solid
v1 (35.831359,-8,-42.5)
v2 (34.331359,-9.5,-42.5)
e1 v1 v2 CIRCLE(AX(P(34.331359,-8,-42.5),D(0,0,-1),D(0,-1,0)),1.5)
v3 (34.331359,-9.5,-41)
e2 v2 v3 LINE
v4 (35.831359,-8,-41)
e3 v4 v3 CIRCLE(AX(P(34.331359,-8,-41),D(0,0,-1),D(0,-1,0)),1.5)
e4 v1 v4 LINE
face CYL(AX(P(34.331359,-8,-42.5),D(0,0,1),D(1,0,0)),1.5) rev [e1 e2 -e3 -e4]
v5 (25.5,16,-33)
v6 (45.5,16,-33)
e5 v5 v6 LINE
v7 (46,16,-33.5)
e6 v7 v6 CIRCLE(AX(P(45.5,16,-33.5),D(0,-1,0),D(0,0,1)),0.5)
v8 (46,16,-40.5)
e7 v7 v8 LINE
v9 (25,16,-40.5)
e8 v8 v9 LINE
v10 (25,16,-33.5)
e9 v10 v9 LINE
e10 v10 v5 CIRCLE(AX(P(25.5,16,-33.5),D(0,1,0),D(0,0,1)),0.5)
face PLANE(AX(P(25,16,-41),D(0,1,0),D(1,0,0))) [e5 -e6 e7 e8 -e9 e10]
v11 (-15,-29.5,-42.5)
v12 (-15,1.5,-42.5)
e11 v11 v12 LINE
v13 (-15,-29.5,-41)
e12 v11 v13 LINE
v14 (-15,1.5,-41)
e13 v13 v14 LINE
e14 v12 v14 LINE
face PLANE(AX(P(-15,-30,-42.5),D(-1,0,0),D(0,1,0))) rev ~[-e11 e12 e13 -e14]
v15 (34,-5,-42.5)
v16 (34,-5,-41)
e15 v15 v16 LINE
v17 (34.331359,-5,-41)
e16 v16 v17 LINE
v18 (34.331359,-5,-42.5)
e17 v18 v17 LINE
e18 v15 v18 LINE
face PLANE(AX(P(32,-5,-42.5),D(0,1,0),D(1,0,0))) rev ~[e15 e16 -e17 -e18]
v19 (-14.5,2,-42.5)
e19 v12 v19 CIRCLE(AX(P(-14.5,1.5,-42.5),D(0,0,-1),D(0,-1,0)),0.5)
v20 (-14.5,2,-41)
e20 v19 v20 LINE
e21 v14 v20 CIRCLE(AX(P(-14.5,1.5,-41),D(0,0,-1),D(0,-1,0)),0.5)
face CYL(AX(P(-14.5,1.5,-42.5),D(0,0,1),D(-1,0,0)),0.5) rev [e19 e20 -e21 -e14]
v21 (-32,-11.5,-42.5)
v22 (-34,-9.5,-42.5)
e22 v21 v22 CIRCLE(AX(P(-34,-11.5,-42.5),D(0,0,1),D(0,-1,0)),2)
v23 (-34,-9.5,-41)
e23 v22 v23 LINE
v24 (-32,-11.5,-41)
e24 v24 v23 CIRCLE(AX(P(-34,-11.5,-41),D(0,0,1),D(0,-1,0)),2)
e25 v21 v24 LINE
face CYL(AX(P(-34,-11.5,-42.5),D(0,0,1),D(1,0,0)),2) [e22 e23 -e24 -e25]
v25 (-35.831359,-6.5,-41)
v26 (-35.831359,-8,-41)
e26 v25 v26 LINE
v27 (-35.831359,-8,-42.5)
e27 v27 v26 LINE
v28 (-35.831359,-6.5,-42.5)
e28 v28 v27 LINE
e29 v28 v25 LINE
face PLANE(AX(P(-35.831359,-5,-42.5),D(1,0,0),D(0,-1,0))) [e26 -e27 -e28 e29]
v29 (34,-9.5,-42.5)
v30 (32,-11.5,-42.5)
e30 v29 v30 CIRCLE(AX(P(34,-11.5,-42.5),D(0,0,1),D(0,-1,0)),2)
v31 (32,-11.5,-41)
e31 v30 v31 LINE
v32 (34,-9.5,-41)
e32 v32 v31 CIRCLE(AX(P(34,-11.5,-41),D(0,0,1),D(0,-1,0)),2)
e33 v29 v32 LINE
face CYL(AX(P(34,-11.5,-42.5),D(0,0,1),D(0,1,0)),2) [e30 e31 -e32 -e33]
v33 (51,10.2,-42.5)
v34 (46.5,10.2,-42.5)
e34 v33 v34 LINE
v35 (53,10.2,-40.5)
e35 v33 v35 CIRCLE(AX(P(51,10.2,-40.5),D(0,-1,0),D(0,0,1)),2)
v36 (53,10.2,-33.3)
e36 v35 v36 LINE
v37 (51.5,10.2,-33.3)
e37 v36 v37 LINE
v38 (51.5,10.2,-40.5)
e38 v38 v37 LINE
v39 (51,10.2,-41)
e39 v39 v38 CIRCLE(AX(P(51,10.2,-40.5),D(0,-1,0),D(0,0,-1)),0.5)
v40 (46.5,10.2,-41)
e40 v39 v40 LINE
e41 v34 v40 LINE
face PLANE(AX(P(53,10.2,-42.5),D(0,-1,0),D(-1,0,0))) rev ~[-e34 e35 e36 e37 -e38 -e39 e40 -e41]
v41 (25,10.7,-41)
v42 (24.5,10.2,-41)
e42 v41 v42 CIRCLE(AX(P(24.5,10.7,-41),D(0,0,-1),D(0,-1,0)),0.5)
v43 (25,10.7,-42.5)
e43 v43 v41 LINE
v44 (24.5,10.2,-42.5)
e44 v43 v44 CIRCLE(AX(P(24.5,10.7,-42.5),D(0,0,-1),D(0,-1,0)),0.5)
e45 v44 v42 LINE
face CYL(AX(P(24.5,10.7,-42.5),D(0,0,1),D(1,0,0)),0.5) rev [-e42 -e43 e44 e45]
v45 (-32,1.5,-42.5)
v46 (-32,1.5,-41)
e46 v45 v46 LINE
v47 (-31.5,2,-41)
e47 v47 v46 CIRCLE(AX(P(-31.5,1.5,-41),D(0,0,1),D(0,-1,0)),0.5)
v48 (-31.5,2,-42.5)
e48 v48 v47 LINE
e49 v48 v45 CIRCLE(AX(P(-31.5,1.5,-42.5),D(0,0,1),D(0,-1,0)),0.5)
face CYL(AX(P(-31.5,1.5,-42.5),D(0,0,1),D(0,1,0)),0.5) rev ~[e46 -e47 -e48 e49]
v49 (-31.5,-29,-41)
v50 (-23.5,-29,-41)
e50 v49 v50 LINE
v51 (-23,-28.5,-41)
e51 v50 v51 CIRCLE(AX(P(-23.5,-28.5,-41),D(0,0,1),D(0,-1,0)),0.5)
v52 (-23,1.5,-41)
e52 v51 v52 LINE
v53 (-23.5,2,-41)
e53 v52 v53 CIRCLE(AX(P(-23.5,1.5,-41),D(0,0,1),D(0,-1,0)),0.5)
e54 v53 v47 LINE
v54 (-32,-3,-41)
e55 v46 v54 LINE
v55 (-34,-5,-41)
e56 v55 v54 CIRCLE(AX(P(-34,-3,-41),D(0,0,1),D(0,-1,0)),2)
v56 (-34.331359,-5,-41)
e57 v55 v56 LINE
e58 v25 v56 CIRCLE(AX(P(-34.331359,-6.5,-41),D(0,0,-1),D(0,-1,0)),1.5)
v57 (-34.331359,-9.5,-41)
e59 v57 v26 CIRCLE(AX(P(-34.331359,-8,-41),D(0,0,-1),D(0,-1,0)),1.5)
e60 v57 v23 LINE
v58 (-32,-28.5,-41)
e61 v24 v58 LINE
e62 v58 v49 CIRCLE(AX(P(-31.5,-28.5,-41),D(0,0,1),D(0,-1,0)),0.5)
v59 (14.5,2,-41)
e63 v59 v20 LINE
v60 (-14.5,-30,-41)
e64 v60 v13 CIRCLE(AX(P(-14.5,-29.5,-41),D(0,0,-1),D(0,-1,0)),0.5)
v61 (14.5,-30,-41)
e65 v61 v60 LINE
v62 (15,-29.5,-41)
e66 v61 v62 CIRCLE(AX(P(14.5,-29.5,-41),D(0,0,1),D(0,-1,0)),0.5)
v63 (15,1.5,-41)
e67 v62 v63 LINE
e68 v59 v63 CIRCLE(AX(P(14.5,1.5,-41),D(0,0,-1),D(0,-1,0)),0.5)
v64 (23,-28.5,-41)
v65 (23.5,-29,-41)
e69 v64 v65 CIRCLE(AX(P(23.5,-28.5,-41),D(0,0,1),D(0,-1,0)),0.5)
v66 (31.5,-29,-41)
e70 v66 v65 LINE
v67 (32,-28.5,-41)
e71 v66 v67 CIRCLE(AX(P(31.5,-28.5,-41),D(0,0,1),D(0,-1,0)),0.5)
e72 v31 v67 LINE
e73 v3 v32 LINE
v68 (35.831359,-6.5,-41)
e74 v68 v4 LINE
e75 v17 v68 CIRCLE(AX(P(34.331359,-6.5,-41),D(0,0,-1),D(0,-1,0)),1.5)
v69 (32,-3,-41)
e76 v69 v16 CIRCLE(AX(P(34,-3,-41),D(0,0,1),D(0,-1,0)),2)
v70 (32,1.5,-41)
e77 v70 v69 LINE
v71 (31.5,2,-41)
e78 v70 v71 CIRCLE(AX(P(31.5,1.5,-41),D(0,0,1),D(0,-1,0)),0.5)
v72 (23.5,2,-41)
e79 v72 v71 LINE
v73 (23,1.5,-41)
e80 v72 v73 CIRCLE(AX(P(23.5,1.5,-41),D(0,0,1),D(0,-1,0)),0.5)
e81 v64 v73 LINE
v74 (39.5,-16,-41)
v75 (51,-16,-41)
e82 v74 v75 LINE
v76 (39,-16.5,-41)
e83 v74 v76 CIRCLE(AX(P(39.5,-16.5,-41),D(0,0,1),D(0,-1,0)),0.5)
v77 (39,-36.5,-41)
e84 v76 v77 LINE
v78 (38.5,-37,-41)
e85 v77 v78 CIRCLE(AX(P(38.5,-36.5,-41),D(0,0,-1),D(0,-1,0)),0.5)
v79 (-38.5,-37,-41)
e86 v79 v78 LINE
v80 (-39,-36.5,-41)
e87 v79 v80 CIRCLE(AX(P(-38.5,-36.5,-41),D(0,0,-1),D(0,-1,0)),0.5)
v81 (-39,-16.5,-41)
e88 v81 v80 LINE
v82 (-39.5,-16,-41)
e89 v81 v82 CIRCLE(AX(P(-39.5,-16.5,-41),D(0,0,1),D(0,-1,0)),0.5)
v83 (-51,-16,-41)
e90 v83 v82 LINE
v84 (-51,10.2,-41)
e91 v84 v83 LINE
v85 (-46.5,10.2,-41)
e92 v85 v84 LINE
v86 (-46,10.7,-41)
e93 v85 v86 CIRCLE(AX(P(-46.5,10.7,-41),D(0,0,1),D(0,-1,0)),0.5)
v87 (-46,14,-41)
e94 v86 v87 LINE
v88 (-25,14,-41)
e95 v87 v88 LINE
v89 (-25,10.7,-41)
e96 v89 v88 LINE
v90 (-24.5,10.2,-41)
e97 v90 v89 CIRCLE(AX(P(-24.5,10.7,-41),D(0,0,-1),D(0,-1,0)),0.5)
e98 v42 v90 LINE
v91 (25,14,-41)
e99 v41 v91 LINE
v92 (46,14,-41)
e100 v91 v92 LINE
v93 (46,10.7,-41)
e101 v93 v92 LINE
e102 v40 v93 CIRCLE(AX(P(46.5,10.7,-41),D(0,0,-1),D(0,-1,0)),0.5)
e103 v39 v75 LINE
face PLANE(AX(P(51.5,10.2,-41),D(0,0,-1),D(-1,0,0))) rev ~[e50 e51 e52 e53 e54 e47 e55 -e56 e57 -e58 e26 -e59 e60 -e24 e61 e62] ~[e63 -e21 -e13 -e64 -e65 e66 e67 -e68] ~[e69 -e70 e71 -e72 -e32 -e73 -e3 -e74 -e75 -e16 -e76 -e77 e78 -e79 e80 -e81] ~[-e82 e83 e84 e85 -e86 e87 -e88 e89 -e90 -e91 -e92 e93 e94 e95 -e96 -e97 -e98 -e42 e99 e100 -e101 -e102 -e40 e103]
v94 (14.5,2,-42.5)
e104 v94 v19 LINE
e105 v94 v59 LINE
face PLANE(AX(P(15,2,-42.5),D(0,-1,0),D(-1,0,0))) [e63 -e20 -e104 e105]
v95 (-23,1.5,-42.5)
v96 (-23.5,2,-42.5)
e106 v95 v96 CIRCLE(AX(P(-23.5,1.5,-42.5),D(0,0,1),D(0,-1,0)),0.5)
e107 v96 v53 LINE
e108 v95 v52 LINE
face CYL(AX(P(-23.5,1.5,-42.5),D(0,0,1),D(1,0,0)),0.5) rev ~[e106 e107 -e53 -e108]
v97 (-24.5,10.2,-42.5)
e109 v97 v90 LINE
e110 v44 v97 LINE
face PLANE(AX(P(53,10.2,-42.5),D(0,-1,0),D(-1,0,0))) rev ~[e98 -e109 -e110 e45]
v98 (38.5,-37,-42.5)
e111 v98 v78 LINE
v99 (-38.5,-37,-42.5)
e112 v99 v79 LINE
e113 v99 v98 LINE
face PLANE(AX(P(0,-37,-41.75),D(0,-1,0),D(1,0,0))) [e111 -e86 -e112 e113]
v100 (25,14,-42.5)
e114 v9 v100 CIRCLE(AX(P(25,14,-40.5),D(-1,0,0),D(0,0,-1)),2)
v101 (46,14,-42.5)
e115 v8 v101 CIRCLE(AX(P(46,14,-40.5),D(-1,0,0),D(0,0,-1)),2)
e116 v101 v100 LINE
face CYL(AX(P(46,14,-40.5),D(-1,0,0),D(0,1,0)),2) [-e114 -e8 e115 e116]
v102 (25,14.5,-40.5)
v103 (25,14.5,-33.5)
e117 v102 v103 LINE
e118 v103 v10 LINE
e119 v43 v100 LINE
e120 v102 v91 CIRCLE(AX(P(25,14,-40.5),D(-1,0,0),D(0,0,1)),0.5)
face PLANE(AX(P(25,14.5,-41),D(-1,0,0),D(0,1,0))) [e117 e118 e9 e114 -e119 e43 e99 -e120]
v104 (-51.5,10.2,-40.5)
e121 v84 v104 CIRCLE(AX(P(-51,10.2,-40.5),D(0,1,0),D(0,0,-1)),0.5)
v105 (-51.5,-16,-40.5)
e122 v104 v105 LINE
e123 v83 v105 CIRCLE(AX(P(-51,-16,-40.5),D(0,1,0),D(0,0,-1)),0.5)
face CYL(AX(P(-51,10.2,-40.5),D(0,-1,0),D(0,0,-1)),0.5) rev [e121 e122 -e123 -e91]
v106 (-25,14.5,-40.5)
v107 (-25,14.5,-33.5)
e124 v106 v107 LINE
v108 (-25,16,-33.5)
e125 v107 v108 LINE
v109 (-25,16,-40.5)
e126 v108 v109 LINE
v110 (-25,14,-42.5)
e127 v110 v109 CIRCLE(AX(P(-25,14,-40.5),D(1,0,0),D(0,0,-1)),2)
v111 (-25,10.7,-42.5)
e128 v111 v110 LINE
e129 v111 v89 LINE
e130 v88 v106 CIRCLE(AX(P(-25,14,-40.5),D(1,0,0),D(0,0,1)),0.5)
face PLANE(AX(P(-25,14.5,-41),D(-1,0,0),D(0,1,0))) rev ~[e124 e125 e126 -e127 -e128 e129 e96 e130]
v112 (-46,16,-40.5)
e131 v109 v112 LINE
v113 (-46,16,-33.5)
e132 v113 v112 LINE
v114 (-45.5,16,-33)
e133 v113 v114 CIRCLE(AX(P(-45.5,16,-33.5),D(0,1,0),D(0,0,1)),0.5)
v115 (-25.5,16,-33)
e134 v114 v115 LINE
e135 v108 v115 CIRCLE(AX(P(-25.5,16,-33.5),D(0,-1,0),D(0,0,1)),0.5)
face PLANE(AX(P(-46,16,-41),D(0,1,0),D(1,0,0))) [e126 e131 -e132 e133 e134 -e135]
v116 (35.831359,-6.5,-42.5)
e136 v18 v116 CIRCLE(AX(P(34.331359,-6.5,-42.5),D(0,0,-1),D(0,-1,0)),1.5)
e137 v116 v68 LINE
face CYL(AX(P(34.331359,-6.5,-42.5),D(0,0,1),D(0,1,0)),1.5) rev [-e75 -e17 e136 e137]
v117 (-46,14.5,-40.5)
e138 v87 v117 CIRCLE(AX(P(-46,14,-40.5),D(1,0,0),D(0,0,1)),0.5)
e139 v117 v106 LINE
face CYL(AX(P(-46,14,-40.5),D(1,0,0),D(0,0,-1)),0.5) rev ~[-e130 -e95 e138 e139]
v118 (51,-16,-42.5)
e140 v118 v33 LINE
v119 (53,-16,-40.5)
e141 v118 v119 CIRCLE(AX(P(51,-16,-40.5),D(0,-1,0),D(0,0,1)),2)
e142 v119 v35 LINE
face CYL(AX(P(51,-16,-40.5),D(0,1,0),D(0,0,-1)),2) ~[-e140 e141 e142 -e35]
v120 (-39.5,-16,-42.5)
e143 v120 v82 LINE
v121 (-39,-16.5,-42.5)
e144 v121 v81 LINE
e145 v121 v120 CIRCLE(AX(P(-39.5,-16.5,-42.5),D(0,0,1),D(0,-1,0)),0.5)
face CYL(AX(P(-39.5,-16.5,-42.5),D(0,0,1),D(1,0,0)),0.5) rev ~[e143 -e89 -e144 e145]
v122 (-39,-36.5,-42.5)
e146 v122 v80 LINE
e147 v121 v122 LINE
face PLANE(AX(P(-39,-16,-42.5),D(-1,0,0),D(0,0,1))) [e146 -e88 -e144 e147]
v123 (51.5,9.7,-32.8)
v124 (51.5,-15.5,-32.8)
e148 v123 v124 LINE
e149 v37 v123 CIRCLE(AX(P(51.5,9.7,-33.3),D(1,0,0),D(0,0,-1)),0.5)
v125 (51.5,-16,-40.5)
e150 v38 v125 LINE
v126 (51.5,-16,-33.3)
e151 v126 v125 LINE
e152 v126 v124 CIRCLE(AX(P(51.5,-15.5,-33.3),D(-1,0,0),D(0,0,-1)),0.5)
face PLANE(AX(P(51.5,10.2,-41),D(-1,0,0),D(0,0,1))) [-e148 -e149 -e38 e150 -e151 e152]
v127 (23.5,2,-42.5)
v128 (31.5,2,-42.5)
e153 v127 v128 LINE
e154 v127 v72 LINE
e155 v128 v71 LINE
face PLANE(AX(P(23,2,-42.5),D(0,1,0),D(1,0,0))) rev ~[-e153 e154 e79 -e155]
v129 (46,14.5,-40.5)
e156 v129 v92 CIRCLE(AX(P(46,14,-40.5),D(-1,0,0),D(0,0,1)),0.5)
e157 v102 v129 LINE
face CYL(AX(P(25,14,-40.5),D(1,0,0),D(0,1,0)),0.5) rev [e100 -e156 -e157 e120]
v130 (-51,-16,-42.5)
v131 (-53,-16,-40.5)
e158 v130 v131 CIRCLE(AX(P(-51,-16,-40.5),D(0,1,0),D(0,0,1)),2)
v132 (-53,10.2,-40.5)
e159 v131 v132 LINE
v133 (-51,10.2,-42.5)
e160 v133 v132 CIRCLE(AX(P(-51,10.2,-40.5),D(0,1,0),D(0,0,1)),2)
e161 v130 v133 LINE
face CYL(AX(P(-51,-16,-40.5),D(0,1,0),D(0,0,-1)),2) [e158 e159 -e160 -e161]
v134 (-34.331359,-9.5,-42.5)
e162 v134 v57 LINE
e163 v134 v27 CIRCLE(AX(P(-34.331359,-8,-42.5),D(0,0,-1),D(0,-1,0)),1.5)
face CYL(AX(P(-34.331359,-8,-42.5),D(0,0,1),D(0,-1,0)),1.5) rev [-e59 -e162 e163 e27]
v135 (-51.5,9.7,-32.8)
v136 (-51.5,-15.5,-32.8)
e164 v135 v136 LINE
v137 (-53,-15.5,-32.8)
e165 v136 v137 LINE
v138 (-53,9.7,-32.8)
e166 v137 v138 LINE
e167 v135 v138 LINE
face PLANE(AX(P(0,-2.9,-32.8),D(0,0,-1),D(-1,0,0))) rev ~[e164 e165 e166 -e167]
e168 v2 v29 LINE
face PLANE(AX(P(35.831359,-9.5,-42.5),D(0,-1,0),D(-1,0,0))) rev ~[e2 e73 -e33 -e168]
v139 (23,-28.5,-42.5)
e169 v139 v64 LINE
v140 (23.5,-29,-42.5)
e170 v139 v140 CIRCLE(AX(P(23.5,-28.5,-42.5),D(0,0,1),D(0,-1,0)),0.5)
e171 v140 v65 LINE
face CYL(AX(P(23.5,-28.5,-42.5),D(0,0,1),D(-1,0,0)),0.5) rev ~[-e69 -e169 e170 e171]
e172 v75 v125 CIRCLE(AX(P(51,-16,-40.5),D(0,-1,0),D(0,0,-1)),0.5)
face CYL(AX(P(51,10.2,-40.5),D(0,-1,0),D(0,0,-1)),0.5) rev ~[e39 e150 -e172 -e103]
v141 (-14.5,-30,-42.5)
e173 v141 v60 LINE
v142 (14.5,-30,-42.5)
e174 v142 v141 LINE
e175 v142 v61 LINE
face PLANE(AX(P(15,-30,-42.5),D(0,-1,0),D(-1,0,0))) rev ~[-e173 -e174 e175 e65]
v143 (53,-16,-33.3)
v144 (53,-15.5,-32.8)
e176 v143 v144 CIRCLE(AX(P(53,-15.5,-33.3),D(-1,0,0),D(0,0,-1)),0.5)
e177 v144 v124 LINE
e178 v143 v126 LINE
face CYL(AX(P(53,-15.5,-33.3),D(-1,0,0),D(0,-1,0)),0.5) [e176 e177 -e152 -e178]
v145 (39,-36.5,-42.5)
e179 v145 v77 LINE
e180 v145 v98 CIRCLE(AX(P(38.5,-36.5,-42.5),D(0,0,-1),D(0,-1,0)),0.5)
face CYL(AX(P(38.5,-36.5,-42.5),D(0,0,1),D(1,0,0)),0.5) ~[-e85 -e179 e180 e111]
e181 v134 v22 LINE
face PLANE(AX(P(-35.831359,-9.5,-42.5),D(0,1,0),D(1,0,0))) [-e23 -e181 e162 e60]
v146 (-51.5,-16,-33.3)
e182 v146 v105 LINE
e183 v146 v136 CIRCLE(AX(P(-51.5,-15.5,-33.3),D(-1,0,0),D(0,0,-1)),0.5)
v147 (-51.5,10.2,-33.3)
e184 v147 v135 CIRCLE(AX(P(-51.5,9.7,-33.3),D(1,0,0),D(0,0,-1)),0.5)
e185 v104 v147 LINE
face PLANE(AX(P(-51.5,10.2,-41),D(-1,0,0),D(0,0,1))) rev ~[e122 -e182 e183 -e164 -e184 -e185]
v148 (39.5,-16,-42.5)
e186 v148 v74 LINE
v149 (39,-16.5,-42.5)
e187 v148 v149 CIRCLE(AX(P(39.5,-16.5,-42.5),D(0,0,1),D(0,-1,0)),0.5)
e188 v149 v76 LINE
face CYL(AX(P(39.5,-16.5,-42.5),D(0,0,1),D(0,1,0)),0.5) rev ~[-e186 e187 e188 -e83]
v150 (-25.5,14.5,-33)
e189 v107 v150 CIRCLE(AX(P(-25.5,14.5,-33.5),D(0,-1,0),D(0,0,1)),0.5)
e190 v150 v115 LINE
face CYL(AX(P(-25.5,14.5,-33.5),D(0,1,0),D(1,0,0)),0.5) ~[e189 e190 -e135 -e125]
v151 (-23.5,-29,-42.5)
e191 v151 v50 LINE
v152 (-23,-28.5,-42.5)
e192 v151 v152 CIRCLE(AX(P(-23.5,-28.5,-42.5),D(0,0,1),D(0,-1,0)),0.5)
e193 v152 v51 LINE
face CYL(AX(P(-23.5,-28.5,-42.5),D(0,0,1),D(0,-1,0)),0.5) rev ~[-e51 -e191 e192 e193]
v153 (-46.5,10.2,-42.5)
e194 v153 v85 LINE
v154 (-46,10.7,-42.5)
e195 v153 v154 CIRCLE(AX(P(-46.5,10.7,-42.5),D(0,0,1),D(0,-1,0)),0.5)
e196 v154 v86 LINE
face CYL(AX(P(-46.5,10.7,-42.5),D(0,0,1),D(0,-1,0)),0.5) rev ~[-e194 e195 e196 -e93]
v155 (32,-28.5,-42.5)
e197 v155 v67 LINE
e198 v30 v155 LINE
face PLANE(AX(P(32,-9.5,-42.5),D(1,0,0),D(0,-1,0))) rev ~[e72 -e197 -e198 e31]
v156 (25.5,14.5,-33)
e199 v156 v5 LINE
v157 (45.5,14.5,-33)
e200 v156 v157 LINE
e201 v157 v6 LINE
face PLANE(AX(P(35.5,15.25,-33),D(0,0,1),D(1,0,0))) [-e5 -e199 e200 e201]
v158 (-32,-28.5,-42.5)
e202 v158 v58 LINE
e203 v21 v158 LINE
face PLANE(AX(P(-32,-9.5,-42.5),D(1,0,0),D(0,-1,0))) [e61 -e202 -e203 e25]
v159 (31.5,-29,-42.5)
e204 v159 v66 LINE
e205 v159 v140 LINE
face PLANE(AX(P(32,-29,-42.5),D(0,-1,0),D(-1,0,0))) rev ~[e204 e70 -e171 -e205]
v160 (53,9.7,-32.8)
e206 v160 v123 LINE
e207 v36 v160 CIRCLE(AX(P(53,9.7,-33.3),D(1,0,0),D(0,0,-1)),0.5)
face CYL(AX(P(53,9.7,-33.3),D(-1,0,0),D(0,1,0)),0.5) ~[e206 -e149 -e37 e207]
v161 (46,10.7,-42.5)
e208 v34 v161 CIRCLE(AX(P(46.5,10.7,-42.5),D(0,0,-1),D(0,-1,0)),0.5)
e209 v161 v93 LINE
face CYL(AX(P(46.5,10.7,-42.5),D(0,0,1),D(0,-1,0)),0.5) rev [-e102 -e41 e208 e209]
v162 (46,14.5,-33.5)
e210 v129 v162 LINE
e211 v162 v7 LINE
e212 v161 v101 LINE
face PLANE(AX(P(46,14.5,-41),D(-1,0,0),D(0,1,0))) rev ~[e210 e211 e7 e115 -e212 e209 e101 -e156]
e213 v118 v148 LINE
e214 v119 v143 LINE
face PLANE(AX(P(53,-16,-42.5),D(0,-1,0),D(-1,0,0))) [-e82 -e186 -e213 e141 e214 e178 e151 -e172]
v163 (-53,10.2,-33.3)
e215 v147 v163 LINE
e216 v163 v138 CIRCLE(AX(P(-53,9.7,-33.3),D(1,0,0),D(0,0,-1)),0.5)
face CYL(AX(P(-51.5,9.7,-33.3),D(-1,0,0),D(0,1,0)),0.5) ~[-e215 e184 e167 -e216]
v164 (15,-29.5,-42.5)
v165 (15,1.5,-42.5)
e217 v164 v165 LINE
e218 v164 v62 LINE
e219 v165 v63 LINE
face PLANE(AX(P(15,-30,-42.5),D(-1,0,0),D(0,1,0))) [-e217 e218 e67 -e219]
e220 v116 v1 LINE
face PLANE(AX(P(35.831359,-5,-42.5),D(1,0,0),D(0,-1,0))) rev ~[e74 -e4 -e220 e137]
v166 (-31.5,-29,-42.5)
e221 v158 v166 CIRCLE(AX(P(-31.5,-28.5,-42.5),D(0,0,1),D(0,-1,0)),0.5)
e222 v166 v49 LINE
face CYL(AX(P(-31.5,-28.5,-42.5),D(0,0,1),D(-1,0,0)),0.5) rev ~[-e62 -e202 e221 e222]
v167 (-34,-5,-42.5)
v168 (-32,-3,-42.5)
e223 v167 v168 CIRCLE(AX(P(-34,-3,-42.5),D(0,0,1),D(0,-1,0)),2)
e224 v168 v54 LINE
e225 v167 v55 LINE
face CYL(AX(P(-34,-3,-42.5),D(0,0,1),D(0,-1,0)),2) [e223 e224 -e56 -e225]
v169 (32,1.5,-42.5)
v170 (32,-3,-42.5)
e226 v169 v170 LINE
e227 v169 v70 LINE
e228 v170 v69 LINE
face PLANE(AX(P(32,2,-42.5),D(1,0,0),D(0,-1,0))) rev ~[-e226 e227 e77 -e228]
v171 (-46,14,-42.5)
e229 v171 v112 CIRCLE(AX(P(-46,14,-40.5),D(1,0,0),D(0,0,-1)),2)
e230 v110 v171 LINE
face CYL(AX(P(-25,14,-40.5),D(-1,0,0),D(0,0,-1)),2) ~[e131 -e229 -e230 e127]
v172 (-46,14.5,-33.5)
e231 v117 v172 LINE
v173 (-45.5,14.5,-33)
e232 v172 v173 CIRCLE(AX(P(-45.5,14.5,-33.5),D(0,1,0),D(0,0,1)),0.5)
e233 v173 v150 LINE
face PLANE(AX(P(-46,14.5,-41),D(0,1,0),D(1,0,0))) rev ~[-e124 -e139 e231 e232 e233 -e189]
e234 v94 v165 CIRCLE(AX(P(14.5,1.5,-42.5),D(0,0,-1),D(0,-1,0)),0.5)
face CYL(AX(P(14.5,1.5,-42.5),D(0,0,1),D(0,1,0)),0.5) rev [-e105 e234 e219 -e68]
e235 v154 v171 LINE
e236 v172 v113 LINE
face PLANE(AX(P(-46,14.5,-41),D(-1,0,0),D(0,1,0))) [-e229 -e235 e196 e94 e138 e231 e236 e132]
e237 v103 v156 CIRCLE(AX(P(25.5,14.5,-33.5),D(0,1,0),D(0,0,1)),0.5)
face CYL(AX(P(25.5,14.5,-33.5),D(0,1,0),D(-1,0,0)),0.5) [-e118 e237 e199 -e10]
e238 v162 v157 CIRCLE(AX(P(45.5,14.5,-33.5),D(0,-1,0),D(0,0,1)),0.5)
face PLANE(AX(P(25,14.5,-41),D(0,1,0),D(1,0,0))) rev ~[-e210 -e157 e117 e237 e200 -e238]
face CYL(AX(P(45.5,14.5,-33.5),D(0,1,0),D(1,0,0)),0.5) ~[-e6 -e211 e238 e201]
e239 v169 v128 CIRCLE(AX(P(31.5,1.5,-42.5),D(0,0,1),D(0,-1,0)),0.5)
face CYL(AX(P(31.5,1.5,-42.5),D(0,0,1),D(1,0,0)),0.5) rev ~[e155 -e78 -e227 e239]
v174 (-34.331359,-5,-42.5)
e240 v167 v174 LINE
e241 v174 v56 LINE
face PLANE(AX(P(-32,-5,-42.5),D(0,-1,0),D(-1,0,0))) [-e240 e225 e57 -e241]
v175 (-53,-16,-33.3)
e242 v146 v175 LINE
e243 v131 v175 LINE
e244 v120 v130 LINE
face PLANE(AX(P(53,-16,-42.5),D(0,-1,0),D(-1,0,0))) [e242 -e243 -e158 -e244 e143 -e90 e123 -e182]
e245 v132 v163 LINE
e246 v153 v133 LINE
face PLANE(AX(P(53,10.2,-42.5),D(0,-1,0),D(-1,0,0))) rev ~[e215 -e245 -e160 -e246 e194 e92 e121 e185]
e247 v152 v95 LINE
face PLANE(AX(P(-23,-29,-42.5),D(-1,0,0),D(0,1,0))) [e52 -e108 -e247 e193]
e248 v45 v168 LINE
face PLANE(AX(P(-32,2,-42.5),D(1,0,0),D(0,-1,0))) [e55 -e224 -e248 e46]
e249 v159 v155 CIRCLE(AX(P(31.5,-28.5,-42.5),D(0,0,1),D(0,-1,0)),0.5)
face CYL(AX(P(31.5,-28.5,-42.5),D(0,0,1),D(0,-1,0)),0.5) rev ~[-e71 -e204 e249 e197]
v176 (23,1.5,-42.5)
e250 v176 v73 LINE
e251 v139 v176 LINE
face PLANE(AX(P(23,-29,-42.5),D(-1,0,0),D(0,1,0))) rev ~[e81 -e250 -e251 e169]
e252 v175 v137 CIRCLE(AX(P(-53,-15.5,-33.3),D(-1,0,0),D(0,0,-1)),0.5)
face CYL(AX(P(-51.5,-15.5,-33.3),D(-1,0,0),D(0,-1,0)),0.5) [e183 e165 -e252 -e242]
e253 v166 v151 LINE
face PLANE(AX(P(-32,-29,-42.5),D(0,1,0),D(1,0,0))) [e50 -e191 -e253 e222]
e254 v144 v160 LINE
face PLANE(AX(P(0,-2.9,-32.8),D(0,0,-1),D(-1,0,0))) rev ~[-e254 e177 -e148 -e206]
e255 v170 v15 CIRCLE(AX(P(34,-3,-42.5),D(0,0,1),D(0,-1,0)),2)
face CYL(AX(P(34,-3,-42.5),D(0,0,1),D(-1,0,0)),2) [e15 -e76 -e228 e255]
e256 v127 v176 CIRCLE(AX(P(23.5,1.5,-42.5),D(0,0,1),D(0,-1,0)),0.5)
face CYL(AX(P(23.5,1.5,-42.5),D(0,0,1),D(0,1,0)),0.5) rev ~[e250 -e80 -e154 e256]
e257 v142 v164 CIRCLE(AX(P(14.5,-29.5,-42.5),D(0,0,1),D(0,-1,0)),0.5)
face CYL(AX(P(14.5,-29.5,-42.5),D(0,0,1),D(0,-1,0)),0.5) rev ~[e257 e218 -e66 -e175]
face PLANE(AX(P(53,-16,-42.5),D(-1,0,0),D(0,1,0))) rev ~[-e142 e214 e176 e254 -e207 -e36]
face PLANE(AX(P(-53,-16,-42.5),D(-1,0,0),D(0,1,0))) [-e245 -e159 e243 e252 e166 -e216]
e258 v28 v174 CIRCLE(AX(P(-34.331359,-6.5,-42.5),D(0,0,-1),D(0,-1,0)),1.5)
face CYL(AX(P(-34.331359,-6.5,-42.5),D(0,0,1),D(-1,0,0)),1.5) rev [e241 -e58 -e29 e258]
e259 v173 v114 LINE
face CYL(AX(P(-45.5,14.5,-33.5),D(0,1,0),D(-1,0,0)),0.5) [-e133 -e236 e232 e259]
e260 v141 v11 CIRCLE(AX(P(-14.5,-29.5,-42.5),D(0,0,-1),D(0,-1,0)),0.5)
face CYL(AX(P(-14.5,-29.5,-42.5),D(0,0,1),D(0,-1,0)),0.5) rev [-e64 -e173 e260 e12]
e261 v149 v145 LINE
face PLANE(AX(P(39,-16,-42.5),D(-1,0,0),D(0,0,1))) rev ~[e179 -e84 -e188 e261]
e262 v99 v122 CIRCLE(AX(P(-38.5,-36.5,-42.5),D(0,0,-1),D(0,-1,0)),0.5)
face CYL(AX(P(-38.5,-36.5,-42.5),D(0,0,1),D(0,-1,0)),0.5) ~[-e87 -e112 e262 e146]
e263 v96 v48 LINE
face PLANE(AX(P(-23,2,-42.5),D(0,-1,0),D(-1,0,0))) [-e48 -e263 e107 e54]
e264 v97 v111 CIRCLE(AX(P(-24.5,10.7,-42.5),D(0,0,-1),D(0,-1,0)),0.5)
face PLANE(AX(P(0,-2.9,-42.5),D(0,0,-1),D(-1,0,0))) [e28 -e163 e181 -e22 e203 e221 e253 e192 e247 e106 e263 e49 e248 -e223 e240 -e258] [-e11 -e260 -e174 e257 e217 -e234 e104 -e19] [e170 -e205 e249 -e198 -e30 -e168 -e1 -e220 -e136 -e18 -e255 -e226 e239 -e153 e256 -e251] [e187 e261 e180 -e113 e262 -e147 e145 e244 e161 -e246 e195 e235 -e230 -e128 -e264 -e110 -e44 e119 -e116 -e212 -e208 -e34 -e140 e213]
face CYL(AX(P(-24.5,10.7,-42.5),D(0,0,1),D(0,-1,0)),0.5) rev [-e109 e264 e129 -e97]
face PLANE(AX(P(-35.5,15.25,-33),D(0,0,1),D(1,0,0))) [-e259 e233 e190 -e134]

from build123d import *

# Parameters (mm, degrees)
SKETCH1_W           = 106
SKETCH1_H           = 26.2
BOSS_EXTRUDE1_DEPTH = 9.7
SKETCH2_W           = 103
SKETCH2_H           = 8.2
CUT_EXTRUDE1_DEPTH  = 27.2
SKETCH3_W           = 21
SKETCH3_H           = 1.5
BOSS_EXTRUDE2_DEPTH = 5.8
SKETCH4_W           = 21
SKETCH4_H           = 1.5
BOSS_EXTRUDE3_DEPTH = 8
SKETCH5_W           = 21
SKETCH5_H           = 1.5
BOSS_EXTRUDE4_DEPTH = 5.8
SKETCH6_W           = 21
SKETCH6_H           = 1.5
BOSS_EXTRUDE5_DEPTH = 8
SKETCH7_W           = 78
SKETCH7_H           = 1.5
BOSS_EXTRUDE6_DEPTH = 21
FILLET1_R           = 0.5
FILLET2_R           = 2
SKETCH8_W           = 30
SKETCH8_H           = 32
CUT_EXTRUDE2_DEPTH  = 1.5
FILLET4_R           = 2
FILLET5_R           = 1.5
FILLET6_R           = 0.5
FILLET7_R           = 0.5


with BuildPart() as part:
    # Sketch1 → Boss-Extrude1 (new body)
    with BuildSketch(Plane(origin=(0, 0, -42.5), x_dir=(-1, 0, 0), z_dir=(0, 0, -1))):
        with Locations((0, -2.9)):
            Rectangle(SKETCH1_W, SKETCH1_H)
    extrude(amount=-BOSS_EXTRUDE1_DEPTH)

    # Sketch2 → Cut-Extrude1 (cut, through all)
    with BuildSketch(Plane(origin=(0, 10.2, 0), x_dir=(-1, 0, 0), z_dir=(0, 1, 0))):
        with Locations((0, -36.9)):
            Rectangle(SKETCH2_W, SKETCH2_H)
    extrude(amount=-CUT_EXTRUDE1_DEPTH, mode=Mode.SUBTRACT)

    # Sketch3 → Boss-Extrude2 (add)
    with BuildSketch(Plane(origin=(0, 10.2, 0), x_dir=(-1, 0, 0), z_dir=(0, 1, 0))):
        with Locations((35.5, -41.75)):
            Rectangle(SKETCH3_W, SKETCH3_H)
    extrude(amount=BOSS_EXTRUDE2_DEPTH)

    # Sketch4 → Boss-Extrude3 (add)
    with BuildSketch(Plane.XY.offset(-41)):
        with Locations((-35.5, 15.25)):
            Rectangle(SKETCH4_W, SKETCH4_H)
    extrude(amount=BOSS_EXTRUDE3_DEPTH)

    # Sketch5 → Boss-Extrude4 (add)
    with BuildSketch(Plane(origin=(0, 10.2, 0), x_dir=(-1, 0, 0), z_dir=(0, 1, 0))):
        with Locations((-35.5, -41.75)):
            Rectangle(SKETCH5_W, SKETCH5_H)
    extrude(amount=BOSS_EXTRUDE4_DEPTH)

    # Sketch6 → Boss-Extrude5 (add)
    with BuildSketch(Plane.XY.offset(-41)):
        with Locations((35.5, 15.25)):
            Rectangle(SKETCH6_W, SKETCH6_H)
    extrude(amount=BOSS_EXTRUDE5_DEPTH)

    # Sketch7 → Boss-Extrude6 (add)
    with BuildSketch(Plane.XZ.offset(16)):
        with Locations((0, -41.75)):
            Rectangle(SKETCH7_W, SKETCH7_H)
    extrude(amount=BOSS_EXTRUDE6_DEPTH)

    # Fillet1
    fillet1_edges = [part.edges().sort_by_distance(p)[0] for p in [
        (-51.5, -2.9, -41),
        (51.5, -2.9, -41),
        (-35.5, 14.5, -41),
        (35.5, 14.5, -41),
    ]]
    fillet(fillet1_edges, radius=FILLET1_R)

    # Fillet2
    fillet2_edges = [part.edges().sort_by_distance(p)[0] for p in [
        (-35.5, 16, -42.5),
        (53, -2.9, -42.5),
        (-53, -2.9, -42.5),
        (35.5, 16, -42.5),
    ]]
    fillet(fillet2_edges, radius=FILLET2_R)

    # Sketch8 → Cut-Extrude2 (cut)
    with BuildSketch(Plane(origin=(0, 0, -42.5), x_dir=(-1, 0, 0), z_dir=(0, 0, -1))):
        with Locations((0, -14)):
            Rectangle(SKETCH8_W, SKETCH8_H)
        Polygon((-23, 2), (-32, 2), (-32, -5), (-35.831359268, -5), (-35.831359268, -9.5), (-32, -9.5), (-32, -29), (-23, -29), align=None)
        Polygon((32, -29), (23, -29), (23, 2), (32, 2), (32, -5), (35.831359268, -5), (35.831359268, -9.5), (32, -9.5), align=None)
    extrude(amount=-CUT_EXTRUDE2_DEPTH, mode=Mode.SUBTRACT)

    # Fillet4
    fillet4_edges = [part.edges().sort_by_distance(p)[0] for p in [
        (32, -9.5, -41.75),
        (32, -5, -41.75),
        (-32, -9.5, -41.75),
        (-32, -5, -41.75),
    ]]
    fillet(fillet4_edges, radius=FILLET4_R)

    # Fillet5
    fillet5_edges = [part.edges().sort_by_distance(p)[0] for p in [
        (35.831359268, -9.5, -41.75),
        (35.831359268, -5, -41.75),
        (-35.831359268, -5, -41.75),
        (-35.831359268, -9.5, -41.75),
    ]]
    fillet(fillet5_edges, radius=FILLET5_R)

    # Fillet6
    fillet6_edges = [part.edges().sort_by_distance(p)[0] for p in [
        (15, -30, -41.75),
        (15, 2, -41.75),
        (-15, 2, -41.75),
        (-15, -30, -41.75),
        (23, 2, -41.75),
        (23, -29, -41.75),
        (32, -29, -41.75),
        (32, 2, -41.75),
        (-32, -29, -41.75),
        (-23, -29, -41.75),
        (-23, 2, -41.75),
        (-32, 2, -41.75),
    ]]
    fillet(fillet6_edges, radius=FILLET6_R)

    # Fillet7
    fillet7_edges = [part.edges().sort_by_distance(p)[0] for p in [
        (52.25, -16, -32.8),
        (-52.25, -16, -32.8),
        (52.25, 10.2, -32.8),
        (-25, 10.2, -41.75),
        (-46, 10.2, -41.75),
        (-46, 15.25, -33),
        (-25, 15.25, -33),
        (46, 10.2, -41.75),
        (25, 10.2, -41.75),
        (-52.25, 10.2, -32.8),
        (46, 15.25, -33),
        (25, 15.25, -33),
        (-39, -16, -41.75),
        (39, -16, -41.75),
        (-39, -37, -41.75),
        (39, -37, -41.75),
    ]]
    fillet(fillet7_edges, radius=FILLET7_R)


solid = part.part
